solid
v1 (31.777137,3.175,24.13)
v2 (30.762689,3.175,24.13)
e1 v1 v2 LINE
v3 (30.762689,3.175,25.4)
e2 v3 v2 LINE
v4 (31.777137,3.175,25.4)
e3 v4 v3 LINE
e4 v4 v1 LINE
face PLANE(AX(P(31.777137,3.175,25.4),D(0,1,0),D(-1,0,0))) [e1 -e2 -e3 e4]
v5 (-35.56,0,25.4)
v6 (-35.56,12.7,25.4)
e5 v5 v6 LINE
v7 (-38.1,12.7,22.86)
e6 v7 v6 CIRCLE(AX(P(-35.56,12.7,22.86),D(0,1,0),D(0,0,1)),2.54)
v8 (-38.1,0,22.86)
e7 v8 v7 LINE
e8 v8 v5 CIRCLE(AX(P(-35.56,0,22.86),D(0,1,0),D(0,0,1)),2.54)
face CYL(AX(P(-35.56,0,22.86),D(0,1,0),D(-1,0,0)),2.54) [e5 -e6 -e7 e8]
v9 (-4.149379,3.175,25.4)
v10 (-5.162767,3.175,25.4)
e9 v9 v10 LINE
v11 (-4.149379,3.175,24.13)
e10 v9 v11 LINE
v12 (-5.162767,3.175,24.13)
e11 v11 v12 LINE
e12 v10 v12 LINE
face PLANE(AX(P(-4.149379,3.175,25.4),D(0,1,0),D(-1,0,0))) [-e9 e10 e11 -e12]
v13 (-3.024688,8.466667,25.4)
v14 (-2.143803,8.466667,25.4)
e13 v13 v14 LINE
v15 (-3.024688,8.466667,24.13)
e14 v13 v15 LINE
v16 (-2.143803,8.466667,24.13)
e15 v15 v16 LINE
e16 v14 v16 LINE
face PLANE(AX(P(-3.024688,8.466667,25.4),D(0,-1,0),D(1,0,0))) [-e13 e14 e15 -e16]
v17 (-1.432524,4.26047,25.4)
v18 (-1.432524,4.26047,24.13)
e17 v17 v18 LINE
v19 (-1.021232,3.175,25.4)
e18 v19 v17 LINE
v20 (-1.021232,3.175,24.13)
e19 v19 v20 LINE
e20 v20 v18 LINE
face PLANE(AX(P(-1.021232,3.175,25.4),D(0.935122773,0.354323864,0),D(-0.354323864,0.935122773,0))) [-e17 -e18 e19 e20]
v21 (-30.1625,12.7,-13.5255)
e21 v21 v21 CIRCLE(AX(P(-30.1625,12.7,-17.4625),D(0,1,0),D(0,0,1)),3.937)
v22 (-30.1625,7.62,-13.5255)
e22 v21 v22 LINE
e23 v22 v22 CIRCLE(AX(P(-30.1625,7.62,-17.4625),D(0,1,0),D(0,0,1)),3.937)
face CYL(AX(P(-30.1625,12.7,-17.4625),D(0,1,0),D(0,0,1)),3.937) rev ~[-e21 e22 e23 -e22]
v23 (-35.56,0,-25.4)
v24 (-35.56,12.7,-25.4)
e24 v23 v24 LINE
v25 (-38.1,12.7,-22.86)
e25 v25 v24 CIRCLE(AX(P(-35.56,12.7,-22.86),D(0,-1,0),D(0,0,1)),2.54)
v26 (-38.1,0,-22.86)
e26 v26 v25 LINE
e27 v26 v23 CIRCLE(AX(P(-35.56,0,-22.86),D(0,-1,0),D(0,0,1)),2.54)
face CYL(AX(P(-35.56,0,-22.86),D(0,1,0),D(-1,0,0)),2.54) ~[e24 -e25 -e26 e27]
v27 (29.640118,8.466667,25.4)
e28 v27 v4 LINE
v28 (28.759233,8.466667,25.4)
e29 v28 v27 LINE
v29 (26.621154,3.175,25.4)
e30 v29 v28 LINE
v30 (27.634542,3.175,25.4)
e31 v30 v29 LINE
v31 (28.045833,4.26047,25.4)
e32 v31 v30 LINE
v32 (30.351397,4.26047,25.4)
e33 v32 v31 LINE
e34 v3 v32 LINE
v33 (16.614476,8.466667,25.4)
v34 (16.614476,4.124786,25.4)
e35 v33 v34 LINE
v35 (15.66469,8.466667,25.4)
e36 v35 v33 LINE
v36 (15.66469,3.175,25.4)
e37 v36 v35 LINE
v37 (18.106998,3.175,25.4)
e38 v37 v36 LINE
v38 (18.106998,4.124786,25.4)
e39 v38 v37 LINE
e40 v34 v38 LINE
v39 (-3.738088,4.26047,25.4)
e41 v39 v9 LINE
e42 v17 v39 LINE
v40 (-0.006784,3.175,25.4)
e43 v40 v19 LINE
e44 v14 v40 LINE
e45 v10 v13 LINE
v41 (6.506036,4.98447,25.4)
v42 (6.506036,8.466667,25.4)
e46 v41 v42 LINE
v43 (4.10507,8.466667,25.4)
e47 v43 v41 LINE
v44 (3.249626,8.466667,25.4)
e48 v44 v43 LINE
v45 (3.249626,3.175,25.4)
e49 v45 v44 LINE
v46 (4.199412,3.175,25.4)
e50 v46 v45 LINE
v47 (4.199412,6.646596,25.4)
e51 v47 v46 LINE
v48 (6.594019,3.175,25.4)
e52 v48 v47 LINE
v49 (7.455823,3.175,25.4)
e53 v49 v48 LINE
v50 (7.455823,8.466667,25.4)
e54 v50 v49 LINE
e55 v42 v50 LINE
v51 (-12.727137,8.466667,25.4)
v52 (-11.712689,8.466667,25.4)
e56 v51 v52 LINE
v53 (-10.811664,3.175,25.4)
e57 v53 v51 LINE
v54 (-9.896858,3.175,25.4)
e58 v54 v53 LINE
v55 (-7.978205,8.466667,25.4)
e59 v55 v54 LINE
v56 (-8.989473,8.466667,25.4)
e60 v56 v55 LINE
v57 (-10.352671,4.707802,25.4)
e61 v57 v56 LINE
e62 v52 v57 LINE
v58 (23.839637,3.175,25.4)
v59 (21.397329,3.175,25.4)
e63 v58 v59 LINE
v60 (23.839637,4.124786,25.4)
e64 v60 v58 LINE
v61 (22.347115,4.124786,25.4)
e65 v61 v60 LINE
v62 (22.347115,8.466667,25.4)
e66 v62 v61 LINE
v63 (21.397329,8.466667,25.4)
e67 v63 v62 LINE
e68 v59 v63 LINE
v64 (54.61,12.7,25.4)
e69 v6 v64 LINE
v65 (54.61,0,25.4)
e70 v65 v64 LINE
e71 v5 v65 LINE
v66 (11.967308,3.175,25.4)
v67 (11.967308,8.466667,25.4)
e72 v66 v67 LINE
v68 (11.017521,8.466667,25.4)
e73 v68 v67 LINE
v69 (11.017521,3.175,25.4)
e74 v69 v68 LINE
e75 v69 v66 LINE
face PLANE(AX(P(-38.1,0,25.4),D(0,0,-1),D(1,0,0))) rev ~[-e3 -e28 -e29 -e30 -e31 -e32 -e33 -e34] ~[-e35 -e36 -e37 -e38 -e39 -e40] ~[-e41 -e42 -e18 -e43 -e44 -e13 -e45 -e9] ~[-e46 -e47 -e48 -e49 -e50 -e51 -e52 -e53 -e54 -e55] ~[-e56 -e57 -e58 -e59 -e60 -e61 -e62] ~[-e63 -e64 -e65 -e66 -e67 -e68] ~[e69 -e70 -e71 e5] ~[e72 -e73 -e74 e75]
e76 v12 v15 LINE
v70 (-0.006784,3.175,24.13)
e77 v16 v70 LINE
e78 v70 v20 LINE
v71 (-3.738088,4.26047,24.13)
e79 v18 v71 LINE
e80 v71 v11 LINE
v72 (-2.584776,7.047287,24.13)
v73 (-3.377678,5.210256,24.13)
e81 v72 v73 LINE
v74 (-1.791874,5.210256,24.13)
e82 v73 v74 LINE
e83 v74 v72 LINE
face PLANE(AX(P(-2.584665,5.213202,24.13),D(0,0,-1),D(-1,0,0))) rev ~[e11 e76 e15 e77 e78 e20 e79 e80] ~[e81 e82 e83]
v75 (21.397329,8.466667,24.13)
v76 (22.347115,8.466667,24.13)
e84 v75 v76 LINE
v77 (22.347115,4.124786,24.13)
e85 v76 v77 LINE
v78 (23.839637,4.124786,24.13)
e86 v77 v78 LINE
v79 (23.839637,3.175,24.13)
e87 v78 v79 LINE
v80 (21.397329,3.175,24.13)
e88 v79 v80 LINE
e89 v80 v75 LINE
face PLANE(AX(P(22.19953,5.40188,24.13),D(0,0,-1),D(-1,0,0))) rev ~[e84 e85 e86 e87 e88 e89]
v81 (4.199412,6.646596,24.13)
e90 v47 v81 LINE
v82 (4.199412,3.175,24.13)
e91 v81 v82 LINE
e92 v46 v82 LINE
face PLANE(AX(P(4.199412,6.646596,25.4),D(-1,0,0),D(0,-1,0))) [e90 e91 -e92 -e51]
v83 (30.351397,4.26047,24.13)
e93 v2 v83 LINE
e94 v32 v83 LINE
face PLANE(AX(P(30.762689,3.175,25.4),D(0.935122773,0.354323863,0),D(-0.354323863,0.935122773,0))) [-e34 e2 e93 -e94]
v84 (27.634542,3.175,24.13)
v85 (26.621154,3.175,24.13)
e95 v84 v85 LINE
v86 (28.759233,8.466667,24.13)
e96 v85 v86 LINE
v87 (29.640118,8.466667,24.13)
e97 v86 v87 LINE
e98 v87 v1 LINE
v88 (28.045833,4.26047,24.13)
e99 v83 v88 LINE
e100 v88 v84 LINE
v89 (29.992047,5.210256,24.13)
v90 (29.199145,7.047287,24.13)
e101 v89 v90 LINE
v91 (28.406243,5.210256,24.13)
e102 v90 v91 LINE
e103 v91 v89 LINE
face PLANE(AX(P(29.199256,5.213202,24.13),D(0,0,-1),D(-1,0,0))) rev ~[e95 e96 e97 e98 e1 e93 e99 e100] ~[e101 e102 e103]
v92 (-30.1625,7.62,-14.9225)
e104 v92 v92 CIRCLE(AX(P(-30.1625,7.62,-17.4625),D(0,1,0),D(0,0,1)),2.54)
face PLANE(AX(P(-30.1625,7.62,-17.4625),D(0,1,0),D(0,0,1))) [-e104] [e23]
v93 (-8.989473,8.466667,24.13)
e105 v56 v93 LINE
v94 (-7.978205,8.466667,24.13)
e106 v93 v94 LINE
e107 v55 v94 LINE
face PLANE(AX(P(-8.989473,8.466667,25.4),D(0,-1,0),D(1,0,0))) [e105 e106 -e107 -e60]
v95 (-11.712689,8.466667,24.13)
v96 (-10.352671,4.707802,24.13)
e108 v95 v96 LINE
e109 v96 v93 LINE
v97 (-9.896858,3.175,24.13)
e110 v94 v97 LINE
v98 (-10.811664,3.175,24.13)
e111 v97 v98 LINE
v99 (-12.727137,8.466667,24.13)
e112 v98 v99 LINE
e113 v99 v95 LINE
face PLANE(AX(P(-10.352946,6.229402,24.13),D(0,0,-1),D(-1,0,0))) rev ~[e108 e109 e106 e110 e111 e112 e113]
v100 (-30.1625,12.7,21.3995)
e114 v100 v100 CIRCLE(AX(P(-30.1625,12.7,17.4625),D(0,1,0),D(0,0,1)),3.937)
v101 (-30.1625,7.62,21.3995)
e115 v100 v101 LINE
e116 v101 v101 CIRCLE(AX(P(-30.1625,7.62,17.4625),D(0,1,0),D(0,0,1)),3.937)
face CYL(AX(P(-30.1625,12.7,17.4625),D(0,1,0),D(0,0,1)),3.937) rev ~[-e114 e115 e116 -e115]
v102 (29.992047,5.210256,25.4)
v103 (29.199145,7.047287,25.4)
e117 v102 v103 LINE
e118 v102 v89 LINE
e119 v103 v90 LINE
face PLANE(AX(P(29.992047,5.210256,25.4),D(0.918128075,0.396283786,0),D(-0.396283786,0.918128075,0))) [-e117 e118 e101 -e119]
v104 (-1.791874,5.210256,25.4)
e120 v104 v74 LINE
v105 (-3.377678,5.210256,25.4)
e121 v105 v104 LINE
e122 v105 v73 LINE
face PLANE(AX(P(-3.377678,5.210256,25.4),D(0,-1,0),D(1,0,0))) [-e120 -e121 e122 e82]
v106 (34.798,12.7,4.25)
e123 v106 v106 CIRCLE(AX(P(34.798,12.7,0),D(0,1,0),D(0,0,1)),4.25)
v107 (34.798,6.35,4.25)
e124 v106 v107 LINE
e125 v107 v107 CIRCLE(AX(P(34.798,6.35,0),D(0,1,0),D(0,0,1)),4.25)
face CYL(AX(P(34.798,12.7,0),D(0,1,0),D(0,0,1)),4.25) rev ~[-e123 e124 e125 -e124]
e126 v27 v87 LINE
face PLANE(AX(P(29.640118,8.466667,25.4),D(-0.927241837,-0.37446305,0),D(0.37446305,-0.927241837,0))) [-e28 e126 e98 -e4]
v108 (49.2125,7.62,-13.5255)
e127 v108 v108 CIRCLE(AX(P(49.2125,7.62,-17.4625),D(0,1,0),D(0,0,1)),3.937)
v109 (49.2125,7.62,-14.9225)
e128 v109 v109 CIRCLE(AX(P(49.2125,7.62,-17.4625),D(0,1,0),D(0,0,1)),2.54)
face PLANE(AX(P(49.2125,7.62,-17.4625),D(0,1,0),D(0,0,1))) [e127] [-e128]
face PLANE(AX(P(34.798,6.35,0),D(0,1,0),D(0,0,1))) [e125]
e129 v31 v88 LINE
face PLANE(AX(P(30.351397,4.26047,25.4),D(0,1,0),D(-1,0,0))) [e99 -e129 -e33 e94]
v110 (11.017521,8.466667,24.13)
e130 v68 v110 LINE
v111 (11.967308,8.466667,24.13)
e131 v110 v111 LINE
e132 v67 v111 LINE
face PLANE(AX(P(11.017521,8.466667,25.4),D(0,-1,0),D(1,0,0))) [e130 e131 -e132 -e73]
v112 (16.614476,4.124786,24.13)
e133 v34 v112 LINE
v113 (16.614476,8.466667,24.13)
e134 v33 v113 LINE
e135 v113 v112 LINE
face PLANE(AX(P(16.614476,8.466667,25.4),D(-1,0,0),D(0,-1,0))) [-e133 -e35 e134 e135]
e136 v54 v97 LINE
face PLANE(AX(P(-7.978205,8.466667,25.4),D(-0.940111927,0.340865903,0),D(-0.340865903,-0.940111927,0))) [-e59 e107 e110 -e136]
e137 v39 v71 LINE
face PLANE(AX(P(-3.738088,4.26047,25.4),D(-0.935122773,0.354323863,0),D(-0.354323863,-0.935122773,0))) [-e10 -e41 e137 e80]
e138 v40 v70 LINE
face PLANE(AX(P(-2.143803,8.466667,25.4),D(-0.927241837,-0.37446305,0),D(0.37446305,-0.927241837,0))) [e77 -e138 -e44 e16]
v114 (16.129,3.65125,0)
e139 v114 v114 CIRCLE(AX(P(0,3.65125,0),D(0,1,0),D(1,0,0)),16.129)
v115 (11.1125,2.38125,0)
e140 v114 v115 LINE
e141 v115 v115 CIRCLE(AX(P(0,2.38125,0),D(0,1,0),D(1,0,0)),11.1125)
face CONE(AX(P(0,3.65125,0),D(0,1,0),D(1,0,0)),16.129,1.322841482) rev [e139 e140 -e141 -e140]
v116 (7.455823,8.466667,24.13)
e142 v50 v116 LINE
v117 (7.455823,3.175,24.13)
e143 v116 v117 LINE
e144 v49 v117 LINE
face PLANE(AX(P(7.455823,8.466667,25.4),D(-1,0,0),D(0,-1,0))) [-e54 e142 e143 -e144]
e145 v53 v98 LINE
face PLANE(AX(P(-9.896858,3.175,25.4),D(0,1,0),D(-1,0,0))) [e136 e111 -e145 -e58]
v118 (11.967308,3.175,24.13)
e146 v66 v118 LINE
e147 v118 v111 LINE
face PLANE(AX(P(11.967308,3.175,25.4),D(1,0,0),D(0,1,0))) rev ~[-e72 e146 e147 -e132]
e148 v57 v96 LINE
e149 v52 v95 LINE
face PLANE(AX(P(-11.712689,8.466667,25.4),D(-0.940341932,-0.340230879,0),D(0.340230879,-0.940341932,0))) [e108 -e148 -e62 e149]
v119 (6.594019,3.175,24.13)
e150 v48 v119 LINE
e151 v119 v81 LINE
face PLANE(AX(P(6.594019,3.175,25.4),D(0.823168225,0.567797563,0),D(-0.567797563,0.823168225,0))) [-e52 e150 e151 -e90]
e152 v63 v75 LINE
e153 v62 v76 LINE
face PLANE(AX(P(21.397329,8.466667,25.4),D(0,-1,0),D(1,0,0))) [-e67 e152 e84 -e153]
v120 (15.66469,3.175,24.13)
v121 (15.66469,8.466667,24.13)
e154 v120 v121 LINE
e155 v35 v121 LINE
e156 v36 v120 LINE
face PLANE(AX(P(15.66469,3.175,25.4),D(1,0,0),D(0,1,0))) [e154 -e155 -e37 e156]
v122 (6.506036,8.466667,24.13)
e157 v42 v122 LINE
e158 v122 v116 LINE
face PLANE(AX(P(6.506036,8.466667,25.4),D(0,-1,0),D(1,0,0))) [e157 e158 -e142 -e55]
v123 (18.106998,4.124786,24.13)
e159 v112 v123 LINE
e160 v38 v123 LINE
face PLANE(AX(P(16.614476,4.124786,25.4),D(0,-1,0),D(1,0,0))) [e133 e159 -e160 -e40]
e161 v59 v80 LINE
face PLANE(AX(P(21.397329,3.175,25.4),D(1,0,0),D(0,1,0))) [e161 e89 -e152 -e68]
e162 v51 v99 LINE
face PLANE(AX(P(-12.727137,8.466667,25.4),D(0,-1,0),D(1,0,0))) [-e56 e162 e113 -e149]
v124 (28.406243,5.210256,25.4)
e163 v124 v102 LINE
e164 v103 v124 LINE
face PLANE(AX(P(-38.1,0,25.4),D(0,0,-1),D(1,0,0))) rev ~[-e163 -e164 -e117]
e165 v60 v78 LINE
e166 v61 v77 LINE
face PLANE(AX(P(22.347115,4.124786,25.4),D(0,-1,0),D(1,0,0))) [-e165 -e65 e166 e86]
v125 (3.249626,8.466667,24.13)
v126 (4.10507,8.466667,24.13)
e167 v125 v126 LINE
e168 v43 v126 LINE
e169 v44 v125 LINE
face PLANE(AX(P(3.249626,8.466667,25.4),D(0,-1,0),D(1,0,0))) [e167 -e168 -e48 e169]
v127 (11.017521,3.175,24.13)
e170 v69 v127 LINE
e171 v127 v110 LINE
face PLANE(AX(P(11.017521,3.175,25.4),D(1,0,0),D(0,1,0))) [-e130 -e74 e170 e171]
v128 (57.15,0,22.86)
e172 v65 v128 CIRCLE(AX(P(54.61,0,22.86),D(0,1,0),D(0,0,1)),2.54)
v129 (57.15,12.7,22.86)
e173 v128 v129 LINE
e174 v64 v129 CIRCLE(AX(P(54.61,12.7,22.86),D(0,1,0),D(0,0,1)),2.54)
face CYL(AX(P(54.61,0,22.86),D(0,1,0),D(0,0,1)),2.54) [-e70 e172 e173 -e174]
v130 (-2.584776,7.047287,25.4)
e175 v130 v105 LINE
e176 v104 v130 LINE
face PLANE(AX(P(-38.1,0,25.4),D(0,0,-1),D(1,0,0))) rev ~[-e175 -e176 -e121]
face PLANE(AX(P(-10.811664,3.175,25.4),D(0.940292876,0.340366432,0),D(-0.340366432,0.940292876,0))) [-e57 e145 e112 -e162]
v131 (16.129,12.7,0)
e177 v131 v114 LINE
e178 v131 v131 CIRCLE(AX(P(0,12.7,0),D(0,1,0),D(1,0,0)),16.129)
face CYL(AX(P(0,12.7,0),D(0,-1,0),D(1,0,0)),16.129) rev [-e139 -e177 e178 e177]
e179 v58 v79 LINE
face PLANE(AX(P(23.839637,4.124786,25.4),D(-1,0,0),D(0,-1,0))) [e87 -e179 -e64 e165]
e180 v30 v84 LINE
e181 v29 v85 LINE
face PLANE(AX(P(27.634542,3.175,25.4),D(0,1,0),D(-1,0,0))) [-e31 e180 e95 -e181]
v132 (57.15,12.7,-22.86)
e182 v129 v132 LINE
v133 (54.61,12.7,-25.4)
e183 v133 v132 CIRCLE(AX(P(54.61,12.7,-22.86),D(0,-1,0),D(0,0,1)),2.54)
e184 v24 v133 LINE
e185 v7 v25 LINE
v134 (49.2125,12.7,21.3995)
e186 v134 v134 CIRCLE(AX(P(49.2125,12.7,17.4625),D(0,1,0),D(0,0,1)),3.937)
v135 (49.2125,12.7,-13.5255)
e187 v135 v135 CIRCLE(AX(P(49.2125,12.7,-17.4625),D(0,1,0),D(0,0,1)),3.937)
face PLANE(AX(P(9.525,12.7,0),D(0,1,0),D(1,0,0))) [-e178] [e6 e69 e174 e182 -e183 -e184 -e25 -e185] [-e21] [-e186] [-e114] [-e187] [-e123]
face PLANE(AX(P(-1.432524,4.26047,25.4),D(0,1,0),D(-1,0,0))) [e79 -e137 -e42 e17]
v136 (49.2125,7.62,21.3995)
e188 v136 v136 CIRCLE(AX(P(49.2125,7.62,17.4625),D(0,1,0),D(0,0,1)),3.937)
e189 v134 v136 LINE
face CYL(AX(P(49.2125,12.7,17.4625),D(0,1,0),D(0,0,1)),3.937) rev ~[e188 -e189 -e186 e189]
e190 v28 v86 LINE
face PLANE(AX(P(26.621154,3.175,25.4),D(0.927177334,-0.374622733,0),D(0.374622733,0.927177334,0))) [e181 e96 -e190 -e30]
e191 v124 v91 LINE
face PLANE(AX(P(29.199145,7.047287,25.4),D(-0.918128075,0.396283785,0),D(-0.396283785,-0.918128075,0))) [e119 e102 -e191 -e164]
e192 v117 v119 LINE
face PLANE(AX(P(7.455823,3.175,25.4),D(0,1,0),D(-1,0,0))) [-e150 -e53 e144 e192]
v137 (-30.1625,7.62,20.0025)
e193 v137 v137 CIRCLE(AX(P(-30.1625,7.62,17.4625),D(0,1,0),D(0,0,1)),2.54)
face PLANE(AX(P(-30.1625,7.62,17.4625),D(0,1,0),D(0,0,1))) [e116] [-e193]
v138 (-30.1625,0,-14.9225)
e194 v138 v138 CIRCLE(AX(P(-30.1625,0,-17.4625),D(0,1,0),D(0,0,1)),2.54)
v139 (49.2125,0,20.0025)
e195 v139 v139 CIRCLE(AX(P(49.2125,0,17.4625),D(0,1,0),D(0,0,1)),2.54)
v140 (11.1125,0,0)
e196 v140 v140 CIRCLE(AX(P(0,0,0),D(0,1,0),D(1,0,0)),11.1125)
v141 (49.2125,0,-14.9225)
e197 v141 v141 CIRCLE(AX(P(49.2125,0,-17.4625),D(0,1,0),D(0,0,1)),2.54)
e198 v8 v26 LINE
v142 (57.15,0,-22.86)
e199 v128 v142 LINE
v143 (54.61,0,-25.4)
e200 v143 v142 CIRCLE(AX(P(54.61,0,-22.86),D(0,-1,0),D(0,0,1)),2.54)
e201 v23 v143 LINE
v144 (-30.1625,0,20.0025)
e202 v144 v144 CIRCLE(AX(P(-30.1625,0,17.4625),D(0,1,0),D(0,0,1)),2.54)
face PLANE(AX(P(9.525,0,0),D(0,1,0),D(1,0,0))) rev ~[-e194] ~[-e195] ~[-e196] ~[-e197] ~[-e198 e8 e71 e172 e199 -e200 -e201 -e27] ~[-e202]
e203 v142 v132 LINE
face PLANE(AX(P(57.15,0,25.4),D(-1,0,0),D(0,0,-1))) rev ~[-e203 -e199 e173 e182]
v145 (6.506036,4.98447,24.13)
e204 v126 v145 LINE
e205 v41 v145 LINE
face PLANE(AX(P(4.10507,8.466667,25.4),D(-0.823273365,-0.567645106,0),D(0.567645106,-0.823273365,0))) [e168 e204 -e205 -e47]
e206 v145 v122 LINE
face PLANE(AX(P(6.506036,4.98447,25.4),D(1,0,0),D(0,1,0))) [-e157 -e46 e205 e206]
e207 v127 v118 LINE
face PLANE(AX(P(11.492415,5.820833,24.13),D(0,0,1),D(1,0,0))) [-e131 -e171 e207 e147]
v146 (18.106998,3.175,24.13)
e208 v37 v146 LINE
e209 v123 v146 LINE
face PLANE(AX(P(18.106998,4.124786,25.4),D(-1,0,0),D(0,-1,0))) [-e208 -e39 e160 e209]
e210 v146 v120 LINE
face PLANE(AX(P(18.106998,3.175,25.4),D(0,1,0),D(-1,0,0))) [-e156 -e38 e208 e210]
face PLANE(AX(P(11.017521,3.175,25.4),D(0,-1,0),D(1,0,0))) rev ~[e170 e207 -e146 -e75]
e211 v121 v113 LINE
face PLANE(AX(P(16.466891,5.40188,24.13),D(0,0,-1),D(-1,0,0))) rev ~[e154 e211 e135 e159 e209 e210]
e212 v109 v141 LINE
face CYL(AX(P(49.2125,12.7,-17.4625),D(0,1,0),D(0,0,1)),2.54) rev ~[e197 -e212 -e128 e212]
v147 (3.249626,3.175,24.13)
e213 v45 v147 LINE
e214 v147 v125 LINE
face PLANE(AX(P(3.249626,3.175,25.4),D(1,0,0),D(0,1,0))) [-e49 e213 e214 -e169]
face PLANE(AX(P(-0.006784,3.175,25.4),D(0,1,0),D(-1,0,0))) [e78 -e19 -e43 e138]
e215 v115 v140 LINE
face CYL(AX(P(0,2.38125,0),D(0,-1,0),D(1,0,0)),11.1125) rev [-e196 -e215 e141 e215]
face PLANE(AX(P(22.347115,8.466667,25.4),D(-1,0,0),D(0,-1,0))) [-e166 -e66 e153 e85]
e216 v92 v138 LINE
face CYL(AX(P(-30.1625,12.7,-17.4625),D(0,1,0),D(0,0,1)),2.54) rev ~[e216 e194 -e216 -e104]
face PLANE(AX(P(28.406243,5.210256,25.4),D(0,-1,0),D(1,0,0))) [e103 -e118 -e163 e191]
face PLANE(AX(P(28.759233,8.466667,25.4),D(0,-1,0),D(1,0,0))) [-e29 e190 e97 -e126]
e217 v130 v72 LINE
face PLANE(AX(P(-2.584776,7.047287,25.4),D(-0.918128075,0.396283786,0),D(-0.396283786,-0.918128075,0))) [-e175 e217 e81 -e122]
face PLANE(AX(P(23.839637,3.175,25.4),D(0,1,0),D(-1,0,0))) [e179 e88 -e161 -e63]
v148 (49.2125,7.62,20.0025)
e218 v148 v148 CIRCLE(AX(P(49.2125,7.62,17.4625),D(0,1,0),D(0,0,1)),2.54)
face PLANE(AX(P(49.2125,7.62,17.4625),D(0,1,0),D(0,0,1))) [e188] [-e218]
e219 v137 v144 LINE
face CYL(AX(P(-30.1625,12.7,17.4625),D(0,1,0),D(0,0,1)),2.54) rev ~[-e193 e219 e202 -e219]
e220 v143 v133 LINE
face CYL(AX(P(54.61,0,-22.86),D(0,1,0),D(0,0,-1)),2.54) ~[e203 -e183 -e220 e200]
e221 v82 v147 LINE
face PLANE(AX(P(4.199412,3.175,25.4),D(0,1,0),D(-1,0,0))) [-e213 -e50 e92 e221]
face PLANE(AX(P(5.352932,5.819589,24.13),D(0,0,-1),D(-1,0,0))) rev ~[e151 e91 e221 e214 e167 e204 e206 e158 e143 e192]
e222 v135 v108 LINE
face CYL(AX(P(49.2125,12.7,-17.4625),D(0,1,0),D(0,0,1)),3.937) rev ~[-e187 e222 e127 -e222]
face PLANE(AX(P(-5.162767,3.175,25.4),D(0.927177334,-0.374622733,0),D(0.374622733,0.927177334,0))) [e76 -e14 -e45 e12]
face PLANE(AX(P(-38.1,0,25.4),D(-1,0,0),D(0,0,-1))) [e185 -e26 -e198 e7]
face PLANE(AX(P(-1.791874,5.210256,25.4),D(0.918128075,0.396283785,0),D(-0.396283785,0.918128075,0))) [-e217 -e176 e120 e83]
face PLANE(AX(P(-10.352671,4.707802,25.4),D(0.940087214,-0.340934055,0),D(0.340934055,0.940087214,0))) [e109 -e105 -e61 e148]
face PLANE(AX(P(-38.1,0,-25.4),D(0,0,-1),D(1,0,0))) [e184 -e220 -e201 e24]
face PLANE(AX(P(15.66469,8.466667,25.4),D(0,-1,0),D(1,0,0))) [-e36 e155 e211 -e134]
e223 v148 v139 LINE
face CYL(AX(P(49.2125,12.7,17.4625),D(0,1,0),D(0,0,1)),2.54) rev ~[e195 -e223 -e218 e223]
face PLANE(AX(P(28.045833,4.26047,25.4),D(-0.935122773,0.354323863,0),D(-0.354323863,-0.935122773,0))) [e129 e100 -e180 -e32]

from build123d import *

# Parameters (mm, degrees)
SKETCH1_W           = 95.25
SKETCH1_H           = 50.8
BOSS_EXTRUDE1_DEPTH = 12.7
SKETCH4_R           = 2.54
CUT_EXTRUDE3_DEPTH  = 64.816710194
FILLET2_R           = 2.54
SKETCH8_R           = 4.25
CUT_EXTRUDE4_DEPTH  = 6.35
SKETCH9_W           = 0.949786324
SKETCH9_H           = 5.291666667
CUT_EXTRUDE5_DEPTH  = 1.27
SKETCH10_R          = 3.937
CUT_EXTRUDE6_DEPTH  = 5.08


with BuildPart() as part:
    # Sketch1 → Boss-Extrude1 (new body)
    with BuildSketch(Plane(origin=(0, 0, 0), x_dir=(1, 0, 0), z_dir=(0, 1, 0))):
        with Locations((9.525, 0)):
            Rectangle(SKETCH1_W, SKETCH1_H)
    extrude(amount=BOSS_EXTRUDE1_DEPTH)

    # Sketch4 → Cut-Extrude3 (cut, through all)
    with BuildSketch(Plane(origin=(0, 12.7, 0), x_dir=(1, 0, 0), z_dir=(0, 1, 0))):
        with Locations(Location((-30.1625, 17.4625, 0), (0, 0, 270))):
            Circle(SKETCH4_R)
        with Locations(Location((49.2125, 17.4625, 0), (0, 0, 270))):
            Circle(SKETCH4_R)
        with Locations(Location((49.2125, -17.4625, 0), (0, 0, 270))):
            Circle(SKETCH4_R)
        with Locations(Location((-30.1625, -17.4625, 0), (0, 0, 270))):
            Circle(SKETCH4_R)
    extrude(amount=-CUT_EXTRUDE3_DEPTH, mode=Mode.SUBTRACT)

    # Fillet2
    fillet2_edges = [part.edges().sort_by_distance(p)[0] for p in [
        (57.15, 6.35, 25.4),
        (-38.1, 6.35, 25.4),
        (-38.1, 6.35, -25.4),
        (57.15, 6.35, -25.4),
    ]]
    fillet(fillet2_edges, radius=FILLET2_R)

    # Sketch6 → Cut-Revolve1 (revolve, cut)
    with BuildSketch(Plane.XY, mode=Mode.PRIVATE) as cut_revolve1_sk:
        Polygon((0, 0), (0, 12.7), (-16.129, 12.7), (-16.129, 3.65125), (-11.1125, 2.38125), (-11.1125, 0), align=None)
    revolve(cut_revolve1_sk.sketch.rotate(Axis((0, 0, 0), (0, 1, 0)), 180), axis=Axis((0, 0, 0), (0, 1, 0)), mode=Mode.SUBTRACT)

    # Sketch8 → Cut-Extrude4 (cut)
    with BuildSketch(Plane(origin=(0, 12.7, 0), x_dir=(1, 0, 0), z_dir=(0, 1, 0))):
        with Locations(Location((34.798, 0, 0), (0, 0, 270))):
            Circle(SKETCH8_R)
    extrude(amount=-CUT_EXTRUDE4_DEPTH, mode=Mode.SUBTRACT)

    # Sketch9 → Cut-Extrude5 (cut)
    # profile 1 of 7: a face of its own
    with BuildSketch(Plane.XY.offset(25.4)):
        Polygon((-12.727136752, 8.466666667), (-11.712688635, 8.466666667), (-10.35267094, 4.707802484), (-8.989473157, 8.466666667), (-7.978205128, 8.466666667), (-9.896858307, 3.175), (-10.811663662, 3.175), align=None)
    # profile 2 of 7: a face of its own
    with BuildSketch(Plane.XY.offset(25.4)):
        Polygon((-3.024687834, 8.466666667), (-2.143803419, 8.466666667), (-0.006784188, 3.175), (-1.021232305, 3.175), (-1.432523705, 4.260470085), (-3.738087607, 4.260470085), (-4.149379006, 3.175), (-5.162767094, 3.175), align=None)
        Polygon((-2.584775641, 7.047287326), (-3.377677618, 5.21025641), (-1.791873665, 5.21025641), align=None, mode=Mode.SUBTRACT)
    # profile 3 of 7: a face of its own
    with BuildSketch(Plane.XY.offset(25.4)):
        Polygon((3.249626068, 8.466666667), (4.105069778, 8.466666667), (6.506036325, 4.984470152), (6.506036325, 8.466666667), (7.45582265, 8.466666667), (7.45582265, 3.175), (6.594018763, 3.175), (4.199412393, 6.646596221), (4.199412393, 3.175), (3.249626068, 3.175), align=None)
    # profile 4 of 7: a face of its own
    with BuildSketch(Plane.XY.offset(25.4)):
        with Locations((11.49241453, 5.820833334)):
            Rectangle(SKETCH9_W, SKETCH9_H)
    # profile 5 of 7: a face of its own
    with BuildSketch(Plane.XY.offset(25.4)):
        Polygon((15.664690171, 8.466666667), (16.614476496, 8.466666667), (16.614476496, 4.124786325), (18.106997863, 4.124786325), (18.106997863, 3.175), (15.664690171, 3.175), align=None)
    # profile 6 of 7: a face of its own
    with BuildSketch(Plane.XY.offset(25.4)):
        Polygon((21.39732906, 8.466666667), (22.347115385, 8.466666667), (22.347115385, 4.124786325), (23.839636752, 4.124786325), (23.839636752, 3.175), (21.39732906, 3.175), align=None)
    # profile 7 of 7: a face of its own
    with BuildSketch(Plane.XY.offset(25.4)):
        Polygon((28.759233106, 8.466666667), (29.640117521, 8.466666667), (31.777136752, 3.175), (30.762688635, 3.175), (30.351397236, 4.260470085), (28.045833333, 4.260470085), (27.634541934, 3.175), (26.621153846, 3.175), align=None)
        Polygon((29.199145299, 7.047287326), (28.406243323, 5.21025641), (29.992047276, 5.21025641), align=None, mode=Mode.SUBTRACT)
    extrude(amount=-CUT_EXTRUDE5_DEPTH, mode=Mode.SUBTRACT)

    # Sketch10 → Cut-Extrude6 (cut)
    with BuildSketch(Plane(origin=(0, 12.7, 0), x_dir=(1, 0, 0), z_dir=(0, 1, 0))):
        with Locations(Location((-30.1625, 17.4625, 0), (0, 0, 270))):
            Circle(SKETCH10_R)
        with Locations(Location((-30.1625, -17.4625, 0), (0, 0, 270))):
            Circle(SKETCH10_R)
        with Locations(Location((49.2125, 17.4625, 0), (0, 0, 270))):
            Circle(SKETCH10_R)
        with Locations(Location((49.2125, -17.4625, 0), (0, 0, 270))):
            Circle(SKETCH10_R)
    extrude(amount=-CUT_EXTRUDE6_DEPTH, mode=Mode.SUBTRACT)


solid = part.part
